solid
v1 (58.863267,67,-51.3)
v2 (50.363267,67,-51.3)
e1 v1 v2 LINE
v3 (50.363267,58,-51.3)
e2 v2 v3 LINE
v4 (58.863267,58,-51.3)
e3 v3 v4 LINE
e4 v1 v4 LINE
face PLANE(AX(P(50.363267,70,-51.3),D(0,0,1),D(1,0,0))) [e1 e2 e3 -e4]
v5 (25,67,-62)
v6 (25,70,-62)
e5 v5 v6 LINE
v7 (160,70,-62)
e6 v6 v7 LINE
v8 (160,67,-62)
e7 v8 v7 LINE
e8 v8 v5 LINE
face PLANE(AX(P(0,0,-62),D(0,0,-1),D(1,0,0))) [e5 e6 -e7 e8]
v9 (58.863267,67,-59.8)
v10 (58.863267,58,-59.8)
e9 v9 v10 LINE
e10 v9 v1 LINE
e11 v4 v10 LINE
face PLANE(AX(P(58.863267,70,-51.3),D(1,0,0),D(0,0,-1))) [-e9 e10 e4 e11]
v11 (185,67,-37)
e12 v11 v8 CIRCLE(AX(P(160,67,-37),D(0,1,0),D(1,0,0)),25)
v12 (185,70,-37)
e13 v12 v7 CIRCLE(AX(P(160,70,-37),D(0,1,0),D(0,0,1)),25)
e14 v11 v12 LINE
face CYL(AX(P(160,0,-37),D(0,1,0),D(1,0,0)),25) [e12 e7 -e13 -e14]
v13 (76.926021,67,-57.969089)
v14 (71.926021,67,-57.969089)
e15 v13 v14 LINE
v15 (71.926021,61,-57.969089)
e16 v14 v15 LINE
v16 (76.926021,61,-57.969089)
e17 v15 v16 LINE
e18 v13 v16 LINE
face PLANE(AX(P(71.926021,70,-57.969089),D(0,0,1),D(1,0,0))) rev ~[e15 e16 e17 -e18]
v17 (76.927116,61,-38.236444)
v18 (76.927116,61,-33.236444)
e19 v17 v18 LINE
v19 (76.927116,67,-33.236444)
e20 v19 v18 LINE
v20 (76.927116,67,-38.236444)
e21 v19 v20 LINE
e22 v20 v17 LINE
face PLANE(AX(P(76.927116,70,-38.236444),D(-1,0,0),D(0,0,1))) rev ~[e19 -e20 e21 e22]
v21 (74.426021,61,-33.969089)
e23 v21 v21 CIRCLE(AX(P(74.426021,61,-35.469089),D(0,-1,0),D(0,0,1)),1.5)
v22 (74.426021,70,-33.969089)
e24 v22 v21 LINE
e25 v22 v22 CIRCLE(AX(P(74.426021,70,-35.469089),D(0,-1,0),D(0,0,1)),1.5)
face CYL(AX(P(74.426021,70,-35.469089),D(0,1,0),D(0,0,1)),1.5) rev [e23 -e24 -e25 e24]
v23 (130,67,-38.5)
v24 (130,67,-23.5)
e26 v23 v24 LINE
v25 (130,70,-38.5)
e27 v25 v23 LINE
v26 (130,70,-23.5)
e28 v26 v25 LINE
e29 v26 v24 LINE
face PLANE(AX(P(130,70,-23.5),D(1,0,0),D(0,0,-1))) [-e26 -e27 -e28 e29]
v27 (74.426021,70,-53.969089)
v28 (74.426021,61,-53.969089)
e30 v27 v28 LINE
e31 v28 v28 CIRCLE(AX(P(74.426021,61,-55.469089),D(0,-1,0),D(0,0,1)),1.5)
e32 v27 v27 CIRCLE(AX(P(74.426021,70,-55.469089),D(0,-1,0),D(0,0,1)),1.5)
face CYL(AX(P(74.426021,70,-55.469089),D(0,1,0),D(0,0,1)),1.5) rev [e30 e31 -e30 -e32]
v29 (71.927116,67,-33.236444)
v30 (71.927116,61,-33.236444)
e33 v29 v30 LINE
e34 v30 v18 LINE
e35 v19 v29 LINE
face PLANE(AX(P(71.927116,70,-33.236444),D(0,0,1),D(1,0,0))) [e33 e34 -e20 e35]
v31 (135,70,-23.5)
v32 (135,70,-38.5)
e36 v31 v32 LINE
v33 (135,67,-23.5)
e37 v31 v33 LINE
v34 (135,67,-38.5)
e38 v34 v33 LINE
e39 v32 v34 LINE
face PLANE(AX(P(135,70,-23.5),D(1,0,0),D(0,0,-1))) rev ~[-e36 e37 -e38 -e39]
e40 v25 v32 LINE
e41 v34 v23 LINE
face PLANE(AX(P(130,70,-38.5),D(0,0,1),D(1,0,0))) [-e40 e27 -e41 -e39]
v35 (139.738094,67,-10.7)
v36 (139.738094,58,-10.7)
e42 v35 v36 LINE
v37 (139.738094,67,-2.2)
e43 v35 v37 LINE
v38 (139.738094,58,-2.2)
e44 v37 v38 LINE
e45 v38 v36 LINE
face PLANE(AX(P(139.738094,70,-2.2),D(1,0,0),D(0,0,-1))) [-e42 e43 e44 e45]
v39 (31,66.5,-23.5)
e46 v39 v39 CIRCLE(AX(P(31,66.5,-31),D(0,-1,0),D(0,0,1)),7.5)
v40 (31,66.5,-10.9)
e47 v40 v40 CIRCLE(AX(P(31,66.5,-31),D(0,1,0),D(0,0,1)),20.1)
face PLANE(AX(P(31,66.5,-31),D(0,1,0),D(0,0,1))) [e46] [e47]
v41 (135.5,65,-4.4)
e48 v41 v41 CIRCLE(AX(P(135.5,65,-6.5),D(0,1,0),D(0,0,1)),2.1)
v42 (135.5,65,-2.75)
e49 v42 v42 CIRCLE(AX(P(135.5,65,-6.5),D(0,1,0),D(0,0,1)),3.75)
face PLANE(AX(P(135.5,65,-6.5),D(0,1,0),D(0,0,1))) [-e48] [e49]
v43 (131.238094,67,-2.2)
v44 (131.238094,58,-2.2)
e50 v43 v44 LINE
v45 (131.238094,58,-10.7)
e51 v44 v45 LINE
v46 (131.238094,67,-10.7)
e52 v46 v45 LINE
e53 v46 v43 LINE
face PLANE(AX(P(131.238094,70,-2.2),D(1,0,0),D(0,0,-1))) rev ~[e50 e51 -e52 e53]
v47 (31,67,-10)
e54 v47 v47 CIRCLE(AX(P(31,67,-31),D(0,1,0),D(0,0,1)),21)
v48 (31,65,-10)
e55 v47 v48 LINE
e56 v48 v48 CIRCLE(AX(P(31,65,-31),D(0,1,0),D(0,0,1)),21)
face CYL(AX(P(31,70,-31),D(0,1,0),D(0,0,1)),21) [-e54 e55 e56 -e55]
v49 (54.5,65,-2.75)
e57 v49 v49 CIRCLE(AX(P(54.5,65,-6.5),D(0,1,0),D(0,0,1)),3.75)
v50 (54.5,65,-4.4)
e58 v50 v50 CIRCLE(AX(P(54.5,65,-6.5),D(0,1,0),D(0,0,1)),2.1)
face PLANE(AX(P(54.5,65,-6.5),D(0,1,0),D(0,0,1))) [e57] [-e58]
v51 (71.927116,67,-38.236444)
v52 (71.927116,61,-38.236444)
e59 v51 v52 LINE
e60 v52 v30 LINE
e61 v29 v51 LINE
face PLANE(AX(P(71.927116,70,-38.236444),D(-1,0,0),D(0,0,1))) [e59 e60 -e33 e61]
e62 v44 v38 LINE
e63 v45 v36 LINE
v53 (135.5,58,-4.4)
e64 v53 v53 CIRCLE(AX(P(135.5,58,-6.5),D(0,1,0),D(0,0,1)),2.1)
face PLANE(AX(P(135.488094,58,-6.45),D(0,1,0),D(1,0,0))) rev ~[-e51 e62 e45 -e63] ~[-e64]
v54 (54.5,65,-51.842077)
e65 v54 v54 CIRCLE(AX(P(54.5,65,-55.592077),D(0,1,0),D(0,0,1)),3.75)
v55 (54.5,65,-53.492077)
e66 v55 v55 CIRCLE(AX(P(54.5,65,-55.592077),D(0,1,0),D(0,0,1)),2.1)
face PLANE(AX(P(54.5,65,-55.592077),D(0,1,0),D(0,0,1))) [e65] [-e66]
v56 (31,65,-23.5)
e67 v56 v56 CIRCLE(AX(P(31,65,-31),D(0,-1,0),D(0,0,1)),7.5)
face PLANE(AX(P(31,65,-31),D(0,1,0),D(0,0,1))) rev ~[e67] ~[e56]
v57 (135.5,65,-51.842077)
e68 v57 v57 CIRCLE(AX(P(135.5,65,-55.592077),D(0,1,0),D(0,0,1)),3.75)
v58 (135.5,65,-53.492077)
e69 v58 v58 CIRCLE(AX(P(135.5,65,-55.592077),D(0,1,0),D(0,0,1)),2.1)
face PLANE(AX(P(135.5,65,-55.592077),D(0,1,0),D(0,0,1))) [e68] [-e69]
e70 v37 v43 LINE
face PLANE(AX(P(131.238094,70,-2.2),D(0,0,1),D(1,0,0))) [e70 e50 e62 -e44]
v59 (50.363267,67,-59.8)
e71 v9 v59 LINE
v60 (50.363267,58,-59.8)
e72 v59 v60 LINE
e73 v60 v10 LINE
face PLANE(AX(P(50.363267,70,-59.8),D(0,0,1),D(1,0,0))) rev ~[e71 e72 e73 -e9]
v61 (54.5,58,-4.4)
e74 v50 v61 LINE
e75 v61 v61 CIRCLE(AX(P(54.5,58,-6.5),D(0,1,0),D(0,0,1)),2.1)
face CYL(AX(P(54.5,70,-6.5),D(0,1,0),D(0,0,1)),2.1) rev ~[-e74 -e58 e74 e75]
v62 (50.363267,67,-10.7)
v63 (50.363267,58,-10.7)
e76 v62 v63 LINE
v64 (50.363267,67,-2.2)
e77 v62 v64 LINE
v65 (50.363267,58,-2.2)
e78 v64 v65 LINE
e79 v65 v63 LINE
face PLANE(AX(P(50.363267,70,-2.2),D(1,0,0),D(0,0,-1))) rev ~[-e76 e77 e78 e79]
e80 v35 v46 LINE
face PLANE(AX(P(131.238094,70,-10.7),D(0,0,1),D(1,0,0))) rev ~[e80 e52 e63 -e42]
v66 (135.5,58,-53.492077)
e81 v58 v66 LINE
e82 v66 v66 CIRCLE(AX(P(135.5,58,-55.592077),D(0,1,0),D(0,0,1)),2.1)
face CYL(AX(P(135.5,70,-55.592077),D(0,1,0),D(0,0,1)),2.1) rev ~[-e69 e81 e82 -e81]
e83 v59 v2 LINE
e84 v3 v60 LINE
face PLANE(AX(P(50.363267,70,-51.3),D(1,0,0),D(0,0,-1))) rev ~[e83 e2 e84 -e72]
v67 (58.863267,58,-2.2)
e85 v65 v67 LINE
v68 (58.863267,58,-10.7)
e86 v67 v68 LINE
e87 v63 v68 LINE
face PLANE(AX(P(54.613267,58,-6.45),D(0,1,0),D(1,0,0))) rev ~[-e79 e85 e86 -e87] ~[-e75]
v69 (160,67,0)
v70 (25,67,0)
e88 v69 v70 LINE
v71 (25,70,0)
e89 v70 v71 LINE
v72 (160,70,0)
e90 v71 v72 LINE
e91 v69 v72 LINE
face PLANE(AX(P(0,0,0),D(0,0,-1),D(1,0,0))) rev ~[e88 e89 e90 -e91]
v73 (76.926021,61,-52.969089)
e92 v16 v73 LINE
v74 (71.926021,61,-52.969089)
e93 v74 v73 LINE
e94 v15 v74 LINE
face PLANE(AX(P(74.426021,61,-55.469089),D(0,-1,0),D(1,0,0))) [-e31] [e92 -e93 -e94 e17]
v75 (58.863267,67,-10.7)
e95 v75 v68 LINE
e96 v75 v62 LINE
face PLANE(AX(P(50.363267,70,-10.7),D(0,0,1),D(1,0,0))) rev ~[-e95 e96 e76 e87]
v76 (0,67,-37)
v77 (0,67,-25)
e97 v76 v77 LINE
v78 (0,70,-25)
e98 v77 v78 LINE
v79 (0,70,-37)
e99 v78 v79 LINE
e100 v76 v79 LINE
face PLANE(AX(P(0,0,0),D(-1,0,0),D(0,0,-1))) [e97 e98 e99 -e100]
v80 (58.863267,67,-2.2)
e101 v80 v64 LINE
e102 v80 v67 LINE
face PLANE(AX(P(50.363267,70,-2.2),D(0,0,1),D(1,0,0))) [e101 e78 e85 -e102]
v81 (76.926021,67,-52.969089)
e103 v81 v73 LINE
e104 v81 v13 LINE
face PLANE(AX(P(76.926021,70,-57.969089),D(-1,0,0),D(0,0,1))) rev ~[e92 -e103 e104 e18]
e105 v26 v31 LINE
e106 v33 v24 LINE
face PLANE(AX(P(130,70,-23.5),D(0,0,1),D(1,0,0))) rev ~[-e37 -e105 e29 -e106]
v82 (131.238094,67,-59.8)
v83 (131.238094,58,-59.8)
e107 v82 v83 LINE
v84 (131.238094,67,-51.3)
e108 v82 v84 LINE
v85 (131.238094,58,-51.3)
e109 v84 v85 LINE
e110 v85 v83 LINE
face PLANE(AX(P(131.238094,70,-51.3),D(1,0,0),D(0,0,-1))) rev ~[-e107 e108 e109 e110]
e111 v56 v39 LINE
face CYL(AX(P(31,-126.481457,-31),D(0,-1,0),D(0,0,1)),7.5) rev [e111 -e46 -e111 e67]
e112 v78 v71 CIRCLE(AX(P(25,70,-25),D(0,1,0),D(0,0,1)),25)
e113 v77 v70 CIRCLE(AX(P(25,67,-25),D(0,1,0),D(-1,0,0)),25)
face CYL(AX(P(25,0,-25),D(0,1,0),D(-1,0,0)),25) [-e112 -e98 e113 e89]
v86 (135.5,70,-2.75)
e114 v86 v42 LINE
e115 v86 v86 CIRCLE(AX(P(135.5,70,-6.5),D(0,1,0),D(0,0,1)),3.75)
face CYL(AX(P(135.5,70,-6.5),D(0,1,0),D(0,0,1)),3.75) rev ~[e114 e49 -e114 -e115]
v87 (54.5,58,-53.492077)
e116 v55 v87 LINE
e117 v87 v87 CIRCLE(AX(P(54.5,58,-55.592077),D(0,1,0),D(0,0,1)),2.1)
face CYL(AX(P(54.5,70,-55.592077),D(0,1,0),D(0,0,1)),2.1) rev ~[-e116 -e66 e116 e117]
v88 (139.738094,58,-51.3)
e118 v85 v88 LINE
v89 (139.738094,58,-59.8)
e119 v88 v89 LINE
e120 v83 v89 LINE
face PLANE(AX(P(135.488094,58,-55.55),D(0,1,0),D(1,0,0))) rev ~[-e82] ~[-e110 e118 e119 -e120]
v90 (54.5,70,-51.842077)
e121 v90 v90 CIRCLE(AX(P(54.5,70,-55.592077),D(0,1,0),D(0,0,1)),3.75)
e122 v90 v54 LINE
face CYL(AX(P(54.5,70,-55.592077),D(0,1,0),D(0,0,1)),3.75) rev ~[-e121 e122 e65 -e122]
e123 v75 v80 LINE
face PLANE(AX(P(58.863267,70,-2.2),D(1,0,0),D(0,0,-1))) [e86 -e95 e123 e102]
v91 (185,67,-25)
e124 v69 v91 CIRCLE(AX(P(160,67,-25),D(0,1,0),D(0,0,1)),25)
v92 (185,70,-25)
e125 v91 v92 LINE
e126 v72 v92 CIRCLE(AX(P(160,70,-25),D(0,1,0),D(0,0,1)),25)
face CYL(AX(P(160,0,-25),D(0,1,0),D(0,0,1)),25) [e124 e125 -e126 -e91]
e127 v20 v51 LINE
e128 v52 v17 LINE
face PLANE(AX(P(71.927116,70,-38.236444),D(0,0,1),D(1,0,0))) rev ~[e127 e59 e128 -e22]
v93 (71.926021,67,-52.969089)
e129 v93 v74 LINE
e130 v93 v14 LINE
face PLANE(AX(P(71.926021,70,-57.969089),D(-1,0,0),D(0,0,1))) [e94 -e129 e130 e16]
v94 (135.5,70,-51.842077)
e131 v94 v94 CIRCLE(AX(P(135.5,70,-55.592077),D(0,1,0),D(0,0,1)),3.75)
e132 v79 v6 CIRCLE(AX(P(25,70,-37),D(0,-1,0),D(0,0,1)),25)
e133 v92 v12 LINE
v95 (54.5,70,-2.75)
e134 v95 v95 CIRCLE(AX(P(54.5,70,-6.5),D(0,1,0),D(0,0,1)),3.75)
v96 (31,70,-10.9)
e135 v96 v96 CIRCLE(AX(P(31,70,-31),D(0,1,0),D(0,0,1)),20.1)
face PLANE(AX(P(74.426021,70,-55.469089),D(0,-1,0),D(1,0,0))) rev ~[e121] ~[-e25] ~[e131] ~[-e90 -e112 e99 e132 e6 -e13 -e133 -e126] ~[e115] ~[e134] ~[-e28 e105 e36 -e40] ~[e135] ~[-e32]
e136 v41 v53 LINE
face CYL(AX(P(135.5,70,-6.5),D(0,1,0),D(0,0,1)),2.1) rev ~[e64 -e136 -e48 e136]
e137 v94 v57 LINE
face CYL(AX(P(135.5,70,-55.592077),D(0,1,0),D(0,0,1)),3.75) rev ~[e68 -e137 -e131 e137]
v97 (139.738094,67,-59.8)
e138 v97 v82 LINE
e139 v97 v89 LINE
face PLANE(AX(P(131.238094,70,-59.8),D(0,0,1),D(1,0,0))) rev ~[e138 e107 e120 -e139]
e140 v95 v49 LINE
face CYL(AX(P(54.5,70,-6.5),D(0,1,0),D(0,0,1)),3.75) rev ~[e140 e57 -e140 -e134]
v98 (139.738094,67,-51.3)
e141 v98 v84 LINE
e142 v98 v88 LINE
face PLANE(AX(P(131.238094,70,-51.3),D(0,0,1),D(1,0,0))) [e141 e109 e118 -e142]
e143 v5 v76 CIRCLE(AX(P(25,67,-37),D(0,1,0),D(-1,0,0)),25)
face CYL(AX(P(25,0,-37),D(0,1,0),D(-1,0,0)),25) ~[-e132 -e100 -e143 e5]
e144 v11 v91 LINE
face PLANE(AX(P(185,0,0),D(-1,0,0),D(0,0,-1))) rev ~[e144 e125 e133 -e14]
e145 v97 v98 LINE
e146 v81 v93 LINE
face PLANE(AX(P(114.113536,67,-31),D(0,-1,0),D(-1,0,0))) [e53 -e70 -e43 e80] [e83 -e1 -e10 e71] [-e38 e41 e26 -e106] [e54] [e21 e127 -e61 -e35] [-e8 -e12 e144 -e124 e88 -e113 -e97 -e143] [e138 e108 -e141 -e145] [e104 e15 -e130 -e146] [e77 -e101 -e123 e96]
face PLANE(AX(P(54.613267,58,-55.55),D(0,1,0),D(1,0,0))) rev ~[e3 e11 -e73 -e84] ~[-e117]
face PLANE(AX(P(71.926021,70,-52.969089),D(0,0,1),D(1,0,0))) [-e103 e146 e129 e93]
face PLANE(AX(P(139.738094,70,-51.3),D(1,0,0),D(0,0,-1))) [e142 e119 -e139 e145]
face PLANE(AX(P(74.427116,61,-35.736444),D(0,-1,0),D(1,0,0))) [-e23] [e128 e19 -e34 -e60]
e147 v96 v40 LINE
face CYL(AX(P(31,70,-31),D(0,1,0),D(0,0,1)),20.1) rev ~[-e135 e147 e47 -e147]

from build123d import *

# Parameters (mm, degrees)
SKETCH1_W                = 185
SKETCH1_H                = 62
BOSS_EXTRUDE1_DEPTH      = 70
FILLET1_R                = 25
CUT_EXTRUDE6_DEPTH       = 64
SKETCH11_R               = 25
CUT_EXTRUDE9_DEPTH       = 17
SKETCH16_R               = 21
BOSS_EXTRUDE6_DEPTH      = 5
SKETCH17_R               = 20.1
CUT_EXTRUDE12_DEPTH      = 3.5
SKETCH20_R               = 25
CUT_EXTRUDE14_DEPTH      = 5.5
SKETCH25_W               = 40
SKETCH25_H               = 8
CUT_EXTRUDE16_DEPTH      = 14
CUT_EXTRUDE21_DEPTH      = 0.1
SKETCH28_R               = 25
BOSS_EXTRUDE10_DEPTH     = 1
SKETCH29_W               = 5
SKETCH29_H               = 15
CUT_EXTRUDE22_DEPTH      = 5
CUT_EXTRUDE24_DEPTH      = 73
CUT_EXTRUDE24_DEPTH_BACK = 44
SKETCH28_2_R             = 25
SKETCH33_OUTSIDE_W       = 226.368
SKETCH33_OUTSIDE_H       = 103.368
CUT_EXTRUDE25_DEPTH      = 23
SKETCH35_W               = 8.5
SKETCH35_H               = 8.5
SKETCH35_R               = 3.75
SKETCH35_R_2             = 2.1
BOSS_EXTRUDE16_DEPTH     = 12
CUT_EXTRUDE13_DEPTH      = 196.481456921
CUT_EXTRUDE13_DEPTH_BACK = 196.481456921
SKETCH18_R               = 7.5
SKETCH35_5_R             = 3.75
SKETCH35_5_R_2           = 2.1
CUT_EXTRUDE36_DEPTH      = 5
CUT_EXTRUDE37_DEPTH      = 196.481456921
CUT_EXTRUDE37_DEPTH_BACK = 196.481456921
SKETCH35_6_R             = 2.1
SKETCH36_W               = 5
SKETCH36_H               = 5
SKETCH36_R               = 1.5
BOSS_EXTRUDE17_DEPTH     = 9
SKETCH36_5_R             = 1.5
CUT_EXTRUDE38_DEPTH      = 9


with BuildPart() as part:
    # Sketch1 → Boss-Extrude1 (new body)
    with BuildSketch(Plane(origin=(0, 0, 0), x_dir=(1, 0, 0), z_dir=(0, 1, 0))):
        with Locations((92.5, 31)):
            Rectangle(SKETCH1_W, SKETCH1_H)
    extrude(amount=BOSS_EXTRUDE1_DEPTH)

    # Fillet1
    fillet1_edges = [part.edges().sort_by_distance(p)[0] for p in [
        (0, 35, -62),
        (185, 35, -62),
        (185, 35, 0),
        (0, 35, 0),
    ]]
    fillet(fillet1_edges, radius=FILLET1_R)

    # Sketch7 → Cut-Extrude6 (cut)
    with BuildSketch(Plane(origin=(0, 67, 0), x_dir=(1, 0, 0), z_dir=(0, 1, 0))):
        with BuildLine():
            Line((25, 58), (160, 58))
            ThreePointArc((160, 58), (174.849242405, 51.849242405), (181, 37))
            Line((181, 37), (181, 25))
            ThreePointArc((181, 25), (174.849242405, 10.150757595), (160, 4))
            Line((160, 4), (25, 4))
            ThreePointArc((25, 4), (10.150757595, 10.150757595), (4, 25))
            Line((4, 25), (4, 37))
            ThreePointArc((4, 37), (10.150757595, 51.849242405), (25, 58))
        make_face()
    extrude(amount=-CUT_EXTRUDE6_DEPTH, mode=Mode.SUBTRACT)

    # Sketch11 → Cut-Extrude9 (cut)
    with BuildSketch(Plane.XZ):
        with Locations(Location((154, -31, 0), (0, 0, 270))):
            Circle(SKETCH11_R)
    extrude(amount=-CUT_EXTRUDE9_DEPTH, mode=Mode.SUBTRACT)

    # Sketch16 → Boss-Extrude6 (add)
    with BuildSketch(Plane(origin=(0, 70, 0), x_dir=(1, 0, 0), z_dir=(0, 1, 0))):
        with Locations(Location((31, 31, 0), (0, 0, 270))):
            Circle(SKETCH16_R)
    extrude(amount=-BOSS_EXTRUDE6_DEPTH)

    # Sketch17 → Cut-Extrude12 (cut)
    with BuildSketch(Plane(origin=(0, 70, 0), x_dir=(1, 0, 0), z_dir=(0, 1, 0))):
        with Locations(Location((31, 31, 0), (0, 0, 270))):
            Circle(SKETCH17_R)
    extrude(amount=-CUT_EXTRUDE12_DEPTH, mode=Mode.SUBTRACT)

    # Sketch20 → Cut-Extrude14 (cut)
    with BuildSketch(Plane.XZ):
        with Locations(Location((31, -31, 0), (0, 0, 270))):
            Circle(SKETCH20_R)
    extrude(amount=-CUT_EXTRUDE14_DEPTH, mode=Mode.SUBTRACT)

    # Sketch25 → Cut-Extrude16 (cut)
    with BuildSketch(Plane.ZY):
        with Locations((-31, 35)):
            Rectangle(SKETCH25_W, SKETCH25_H)
    extrude(amount=-CUT_EXTRUDE16_DEPTH, mode=Mode.SUBTRACT)

    # Sketch27 → Cut-Extrude21 (cut)
    with BuildSketch(Plane(origin=(0, 67, 0), x_dir=(1, 0, 0), z_dir=(0, 1, 0))):
        with BuildLine():
            Line((31, 73.5576089), (197.227071292, 73.5576089))
            ThreePointArc((197.227071292, 73.5576089), (239.784680192, 31), (197.227071292, -11.5576089))
            Line((197.227071292, -11.5576089), (31, -11.5576089))
            ThreePointArc((31, -11.5576089), (-11.5576089, 31), (31, 73.5576089))
        make_face()
        with BuildLine():
            Line((4.02, 37), (4.02, 25))
            ThreePointArc((4.02, 25), (10.164899731, 10.164899731), (25, 4.02))
            Line((25, 4.02), (160, 4.02))
            ThreePointArc((160, 4.02), (174.835100269, 10.164899731), (180.98, 25))
            Line((180.98, 25), (180.98, 37))
            ThreePointArc((180.98, 37), (174.835100269, 51.835100269), (160, 57.98))
            Line((160, 57.98), (25, 57.98))
            ThreePointArc((25, 57.98), (10.164899731, 51.835100269), (4.02, 37))
        make_face(mode=Mode.SUBTRACT)
    extrude(amount=-CUT_EXTRUDE21_DEPTH, mode=Mode.SUBTRACT)


with BuildPart() as cut_extrude21_piece_1:
    # of the separate pieces the step leaves, piece 1, a body of its own (cut_extrude21_pieces)
    add(part.part.solids().sort_by_distance((25, 0, 0))[0])

    # Sketch28 → Boss-Extrude10 (add)
    with BuildSketch(Plane.XZ):
        with BuildLine():
            Line((25, 0), (160, 0))
            ThreePointArc((160, 0), (177.67766953, -7.32233047), (185, -25))
            Line((185, -25), (185, -37))
            ThreePointArc((185, -37), (177.67766953, -54.67766953), (160, -62))
            Line((160, -62), (25, -62))
            ThreePointArc((25, -62), (7.32233047, -54.67766953), (0, -37))
            Line((0, -37), (0, -25))
            ThreePointArc((0, -25), (7.32233047, -7.32233047), (25, 0))
        make_face()
        with Locations(Location((31, -31, 0), (0, 0, 270))):
            Circle(SKETCH28_R, mode=Mode.SUBTRACT)
        with Locations(Location((154, -31, 0), (0, 0, 270))):
            Circle(SKETCH28_R, mode=Mode.SUBTRACT)
    extrude(amount=BOSS_EXTRUDE10_DEPTH)

    # Sketch28<2> → Cut-Extrude24 (cut, two sides: drawn at the far end of the back side and taken through both)
    with BuildSketch(Plane.XZ.offset(-CUT_EXTRUDE24_DEPTH_BACK)):
        with BuildLine():
            Line((25, 0), (160, 0))
            ThreePointArc((160, 0), (177.67766953, -7.32233047), (185, -25))
            Line((185, -25), (185, -37))
            ThreePointArc((185, -37), (177.67766953, -54.67766953), (160, -62))
            Line((160, -62), (25, -62))
            ThreePointArc((25, -62), (7.32233047, -54.67766953), (0, -37))
            Line((0, -37), (0, -25))
            ThreePointArc((0, -25), (7.32233047, -7.32233047), (25, 0))
        make_face()
        with Locations((31, -31)):
            Circle(SKETCH28_2_R, mode=Mode.SUBTRACT)
        with Locations((154, -31)):
            Circle(SKETCH28_2_R, mode=Mode.SUBTRACT)
    extrude(amount=CUT_EXTRUDE24_DEPTH + CUT_EXTRUDE24_DEPTH_BACK, mode=Mode.SUBTRACT)

    # Sketch33 outside → Cut-Extrude25 (cut)
    with BuildSketch(Plane.XZ.offset(-44)):
        with Locations((92.5, -31)):
            Rectangle(SKETCH33_OUTSIDE_W, SKETCH33_OUTSIDE_H)
        with BuildLine():
            Line((25, -4), (160, -4))
            ThreePointArc((160, -4), (174.849242405, -10.150757595), (181, -25))
            Line((181, -25), (181, -37))
            ThreePointArc((181, -37), (174.849242405, -51.849242405), (160, -58))
            Line((160, -58), (25, -58))
            ThreePointArc((25, -58), (10.150757595, -51.849242405), (4, -37))
            Line((4, -37), (4, -25))
            ThreePointArc((4, -25), (10.150757595, -10.150757595), (25, -4))
        make_face(mode=Mode.SUBTRACT)
    extrude(amount=-CUT_EXTRUDE25_DEPTH, mode=Mode.SUBTRACT)


with BuildPart() as cut_extrude21_piece_2:
    # of the separate pieces the step leaves, piece 2, a body of its own (cut_extrude21_pieces)
    add(part.part.solids().sort_by_distance((160, 67, 0))[0])

    # Sketch29 → Cut-Extrude22 (cut)
    with BuildSketch(Plane(origin=(0, 70, 0), x_dir=(1, 0, 0), z_dir=(0, 1, 0))):
        with Locations((132.5, 31)):
            Rectangle(SKETCH29_W, SKETCH29_H)
    extrude(amount=-CUT_EXTRUDE22_DEPTH, mode=Mode.SUBTRACT)

    # Sketch35 → Boss-Extrude16 (add)
    # profile 1 of 8: a face of its own
    with BuildSketch(Plane(origin=(0, 70, 0), x_dir=(1, 0, 0), z_dir=(0, 1, 0))):
        with Locations((54.613267141, 55.55)):
            Rectangle(SKETCH35_W, SKETCH35_H)
        with Locations((54.5, 55.592077299)):
            Circle(SKETCH35_R, mode=Mode.SUBTRACT)
    # profile 2 of 8: a face of its own
    with BuildSketch(Plane(origin=(0, 70, 0), x_dir=(1, 0, 0), z_dir=(0, 1, 0))):
        with Locations((54.5, 55.592077299)):
            Circle(SKETCH35_R)
        with Locations(Location((54.5, 55.592077299, 0), (0, 0, 270))):
            Circle(SKETCH35_R_2, mode=Mode.SUBTRACT)
    # profile 3 of 8: a face of its own
    with BuildSketch(Plane(origin=(0, 70, 0), x_dir=(1, 0, 0), z_dir=(0, 1, 0))):
        with Locations((54.613267141, 6.45)):
            Rectangle(SKETCH35_W, SKETCH35_H)
        with Locations((54.5, 6.5)):
            Circle(SKETCH35_R, mode=Mode.SUBTRACT)
    # profile 4 of 8: a face of its own
    with BuildSketch(Plane(origin=(0, 70, 0), x_dir=(1, 0, 0), z_dir=(0, 1, 0))):
        with Locations((54.5, 6.5)):
            Circle(SKETCH35_R)
        with Locations(Location((54.5, 6.5, 0), (0, 0, 270))):
            Circle(SKETCH35_R_2, mode=Mode.SUBTRACT)
    # profile 5 of 8: a face of its own
    with BuildSketch(Plane(origin=(0, 70, 0), x_dir=(1, 0, 0), z_dir=(0, 1, 0))):
        with Locations((135.488094084, 6.45)):
            Rectangle(SKETCH35_W, SKETCH35_H)
        with Locations((135.5, 6.5)):
            Circle(SKETCH35_R, mode=Mode.SUBTRACT)
    # profile 6 of 8: a face of its own
    with BuildSketch(Plane(origin=(0, 70, 0), x_dir=(1, 0, 0), z_dir=(0, 1, 0))):
        with Locations((135.5, 6.5)):
            Circle(SKETCH35_R)
        with Locations(Location((135.5, 6.5, 0), (0, 0, 270))):
            Circle(SKETCH35_R_2, mode=Mode.SUBTRACT)
    # profile 7 of 8: a face of its own
    with BuildSketch(Plane(origin=(0, 70, 0), x_dir=(1, 0, 0), z_dir=(0, 1, 0))):
        with Locations((135.488094084, 55.55)):
            Rectangle(SKETCH35_W, SKETCH35_H)
        with Locations((135.5, 55.592077299)):
            Circle(SKETCH35_R, mode=Mode.SUBTRACT)
    # profile 8 of 8: a face of its own
    with BuildSketch(Plane(origin=(0, 70, 0), x_dir=(1, 0, 0), z_dir=(0, 1, 0))):
        with Locations((135.5, 55.592077299)):
            Circle(SKETCH35_R)
        with Locations(Location((135.5, 55.592077299, 0), (0, 0, 270))):
            Circle(SKETCH35_R_2, mode=Mode.SUBTRACT)
    extrude(amount=-BOSS_EXTRUDE16_DEPTH)

    # Sketch18 → Cut-Extrude13 (cut, two sides: drawn at the far end of the back side and taken through both)
    with BuildSketch(Plane(origin=(0, 70, 0), x_dir=(1, 0, 0), z_dir=(0, 1, 0)).offset(-CUT_EXTRUDE13_DEPTH_BACK)):
        with Locations(Location((31, 31, 0), (0, 0, 270))):
            Circle(SKETCH18_R)
    extrude(amount=CUT_EXTRUDE13_DEPTH + CUT_EXTRUDE13_DEPTH_BACK, mode=Mode.SUBTRACT)

    # Sketch35<5> → Cut-Extrude36 (cut)
    # profile 1 of 4: a face of its own
    with BuildSketch(Plane(origin=(0, 70, 0), x_dir=(1, 0, 0), z_dir=(0, 1, 0))):
        with Locations(Location((54.5, 6.5, 0), (0, 0, 270))):
            Circle(SKETCH35_5_R)
        with Locations(Location((54.5, 6.5, 0), (0, 0, 270))):
            Circle(SKETCH35_5_R_2, mode=Mode.SUBTRACT)
    # profile 2 of 4: a face of its own
    with BuildSketch(Plane(origin=(0, 70, 0), x_dir=(1, 0, 0), z_dir=(0, 1, 0))):
        with Locations(Location((54.5, 55.592077299, 0), (0, 0, 270))):
            Circle(SKETCH35_5_R)
        with Locations(Location((54.5, 55.592077299, 0), (0, 0, 270))):
            Circle(SKETCH35_5_R_2, mode=Mode.SUBTRACT)
    # profile 3 of 4: a face of its own
    with BuildSketch(Plane(origin=(0, 70, 0), x_dir=(1, 0, 0), z_dir=(0, 1, 0))):
        with Locations(Location((135.5, 55.592077299, 0), (0, 0, 270))):
            Circle(SKETCH35_5_R)
        with Locations(Location((135.5, 55.592077299, 0), (0, 0, 270))):
            Circle(SKETCH35_5_R_2, mode=Mode.SUBTRACT)
    # profile 4 of 4: a face of its own
    with BuildSketch(Plane(origin=(0, 70, 0), x_dir=(1, 0, 0), z_dir=(0, 1, 0))):
        with Locations(Location((135.5, 6.5, 0), (0, 0, 270))):
            Circle(SKETCH35_5_R)
        with Locations(Location((135.5, 6.5, 0), (0, 0, 270))):
            Circle(SKETCH35_5_R_2, mode=Mode.SUBTRACT)
    extrude(amount=-CUT_EXTRUDE36_DEPTH, mode=Mode.SUBTRACT)


with BuildPart() as cut_extrude36_piece_1:
    # of the separate pieces the step leaves, piece 1, a body of its own (cut_extrude36_pieces_kept)
    add(cut_extrude21_piece_2.part.solids().sort_by_distance((160, 67, 0))[0])

    # Sketch36 → Boss-Extrude17 (add)
    # profile 1 of 2: a face of its own
    with BuildSketch(Plane.XZ.offset(-70)):
        with Locations((74.426021402, -55.469089395)):
            Rectangle(SKETCH36_W, SKETCH36_H)
        with Locations(Location((74.426021402, -55.469089395, 0), (0, 0, 90))):
            Circle(SKETCH36_R, mode=Mode.SUBTRACT)
    # profile 2 of 2: a face of its own
    with BuildSketch(Plane.XZ.offset(-70)):
        with Locations((74.427115809, -35.736444324)):
            Rectangle(SKETCH36_W, SKETCH36_H)
        with Locations(Location((74.426021402, -35.469089395, 0), (0, 0, 90))):
            Circle(SKETCH36_R, mode=Mode.SUBTRACT)
    extrude(amount=BOSS_EXTRUDE17_DEPTH)

    # Sketch36<5> → Cut-Extrude38 (cut)
    with BuildSketch(Plane.XZ.offset(-70)):
        with Locations(Location((74.426021402, -55.469089395, 0), (0, 0, 90))):
            Circle(SKETCH36_5_R)
        with Locations(Location((74.426021402, -35.469089395, 0), (0, 0, 90))):
            Circle(SKETCH36_5_R)
    extrude(amount=CUT_EXTRUDE38_DEPTH, mode=Mode.SUBTRACT)


with BuildPart() as cut_extrude36_piece_2:
    # of the separate pieces the step leaves, piece 2, a body of its own (cut_extrude36_pieces_kept)
    add(cut_extrude21_piece_2.part.solids().sort_by_distance((54.5, 70, -4.4))[0])


with BuildPart() as cut_extrude36_piece_3:
    # of the separate pieces the step leaves, piece 3, a body of its own (cut_extrude36_pieces_kept)
    add(cut_extrude21_piece_2.part.solids().sort_by_distance((135.5, 70, -53.492077299))[0])


with BuildPart() as cut_extrude37_tool:
    # Sketch35<6> → Cut-Extrude37 (new, two sides: drawn at the far end of the back side and taken through both)
    with BuildSketch(Plane(origin=(0, 70, 0), x_dir=(1, 0, 0), z_dir=(0, 1, 0)).offset(-CUT_EXTRUDE37_DEPTH_BACK)):
        with Locations(Location((54.5, 6.5, 0), (0, 0, 270))):
            Circle(SKETCH35_6_R)
        with Locations(Location((54.5, 55.592077299, 0), (0, 0, 270))):
            Circle(SKETCH35_6_R)
        with Locations(Location((135.5, 55.592077299, 0), (0, 0, 270))):
            Circle(SKETCH35_6_R)
        with Locations(Location((135.5, 6.5, 0), (0, 0, 270))):
            Circle(SKETCH35_6_R)
    extrude(amount=CUT_EXTRUDE37_DEPTH + CUT_EXTRUDE37_DEPTH_BACK)


with BuildPart() as cut_extrude36_piece_2_1:
    add(cut_extrude36_piece_2.part)

    # Cut-Extrude37: cut by cut_extrude37_tool
    add(cut_extrude37_tool.part, mode=Mode.SUBTRACT)


with BuildPart() as cut_extrude36_piece_3_1:
    add(cut_extrude36_piece_3.part)

    # Cut-Extrude37: cut by cut_extrude37_tool
    add(cut_extrude37_tool.part, mode=Mode.SUBTRACT)


solid = cut_extrude36_piece_1.part
